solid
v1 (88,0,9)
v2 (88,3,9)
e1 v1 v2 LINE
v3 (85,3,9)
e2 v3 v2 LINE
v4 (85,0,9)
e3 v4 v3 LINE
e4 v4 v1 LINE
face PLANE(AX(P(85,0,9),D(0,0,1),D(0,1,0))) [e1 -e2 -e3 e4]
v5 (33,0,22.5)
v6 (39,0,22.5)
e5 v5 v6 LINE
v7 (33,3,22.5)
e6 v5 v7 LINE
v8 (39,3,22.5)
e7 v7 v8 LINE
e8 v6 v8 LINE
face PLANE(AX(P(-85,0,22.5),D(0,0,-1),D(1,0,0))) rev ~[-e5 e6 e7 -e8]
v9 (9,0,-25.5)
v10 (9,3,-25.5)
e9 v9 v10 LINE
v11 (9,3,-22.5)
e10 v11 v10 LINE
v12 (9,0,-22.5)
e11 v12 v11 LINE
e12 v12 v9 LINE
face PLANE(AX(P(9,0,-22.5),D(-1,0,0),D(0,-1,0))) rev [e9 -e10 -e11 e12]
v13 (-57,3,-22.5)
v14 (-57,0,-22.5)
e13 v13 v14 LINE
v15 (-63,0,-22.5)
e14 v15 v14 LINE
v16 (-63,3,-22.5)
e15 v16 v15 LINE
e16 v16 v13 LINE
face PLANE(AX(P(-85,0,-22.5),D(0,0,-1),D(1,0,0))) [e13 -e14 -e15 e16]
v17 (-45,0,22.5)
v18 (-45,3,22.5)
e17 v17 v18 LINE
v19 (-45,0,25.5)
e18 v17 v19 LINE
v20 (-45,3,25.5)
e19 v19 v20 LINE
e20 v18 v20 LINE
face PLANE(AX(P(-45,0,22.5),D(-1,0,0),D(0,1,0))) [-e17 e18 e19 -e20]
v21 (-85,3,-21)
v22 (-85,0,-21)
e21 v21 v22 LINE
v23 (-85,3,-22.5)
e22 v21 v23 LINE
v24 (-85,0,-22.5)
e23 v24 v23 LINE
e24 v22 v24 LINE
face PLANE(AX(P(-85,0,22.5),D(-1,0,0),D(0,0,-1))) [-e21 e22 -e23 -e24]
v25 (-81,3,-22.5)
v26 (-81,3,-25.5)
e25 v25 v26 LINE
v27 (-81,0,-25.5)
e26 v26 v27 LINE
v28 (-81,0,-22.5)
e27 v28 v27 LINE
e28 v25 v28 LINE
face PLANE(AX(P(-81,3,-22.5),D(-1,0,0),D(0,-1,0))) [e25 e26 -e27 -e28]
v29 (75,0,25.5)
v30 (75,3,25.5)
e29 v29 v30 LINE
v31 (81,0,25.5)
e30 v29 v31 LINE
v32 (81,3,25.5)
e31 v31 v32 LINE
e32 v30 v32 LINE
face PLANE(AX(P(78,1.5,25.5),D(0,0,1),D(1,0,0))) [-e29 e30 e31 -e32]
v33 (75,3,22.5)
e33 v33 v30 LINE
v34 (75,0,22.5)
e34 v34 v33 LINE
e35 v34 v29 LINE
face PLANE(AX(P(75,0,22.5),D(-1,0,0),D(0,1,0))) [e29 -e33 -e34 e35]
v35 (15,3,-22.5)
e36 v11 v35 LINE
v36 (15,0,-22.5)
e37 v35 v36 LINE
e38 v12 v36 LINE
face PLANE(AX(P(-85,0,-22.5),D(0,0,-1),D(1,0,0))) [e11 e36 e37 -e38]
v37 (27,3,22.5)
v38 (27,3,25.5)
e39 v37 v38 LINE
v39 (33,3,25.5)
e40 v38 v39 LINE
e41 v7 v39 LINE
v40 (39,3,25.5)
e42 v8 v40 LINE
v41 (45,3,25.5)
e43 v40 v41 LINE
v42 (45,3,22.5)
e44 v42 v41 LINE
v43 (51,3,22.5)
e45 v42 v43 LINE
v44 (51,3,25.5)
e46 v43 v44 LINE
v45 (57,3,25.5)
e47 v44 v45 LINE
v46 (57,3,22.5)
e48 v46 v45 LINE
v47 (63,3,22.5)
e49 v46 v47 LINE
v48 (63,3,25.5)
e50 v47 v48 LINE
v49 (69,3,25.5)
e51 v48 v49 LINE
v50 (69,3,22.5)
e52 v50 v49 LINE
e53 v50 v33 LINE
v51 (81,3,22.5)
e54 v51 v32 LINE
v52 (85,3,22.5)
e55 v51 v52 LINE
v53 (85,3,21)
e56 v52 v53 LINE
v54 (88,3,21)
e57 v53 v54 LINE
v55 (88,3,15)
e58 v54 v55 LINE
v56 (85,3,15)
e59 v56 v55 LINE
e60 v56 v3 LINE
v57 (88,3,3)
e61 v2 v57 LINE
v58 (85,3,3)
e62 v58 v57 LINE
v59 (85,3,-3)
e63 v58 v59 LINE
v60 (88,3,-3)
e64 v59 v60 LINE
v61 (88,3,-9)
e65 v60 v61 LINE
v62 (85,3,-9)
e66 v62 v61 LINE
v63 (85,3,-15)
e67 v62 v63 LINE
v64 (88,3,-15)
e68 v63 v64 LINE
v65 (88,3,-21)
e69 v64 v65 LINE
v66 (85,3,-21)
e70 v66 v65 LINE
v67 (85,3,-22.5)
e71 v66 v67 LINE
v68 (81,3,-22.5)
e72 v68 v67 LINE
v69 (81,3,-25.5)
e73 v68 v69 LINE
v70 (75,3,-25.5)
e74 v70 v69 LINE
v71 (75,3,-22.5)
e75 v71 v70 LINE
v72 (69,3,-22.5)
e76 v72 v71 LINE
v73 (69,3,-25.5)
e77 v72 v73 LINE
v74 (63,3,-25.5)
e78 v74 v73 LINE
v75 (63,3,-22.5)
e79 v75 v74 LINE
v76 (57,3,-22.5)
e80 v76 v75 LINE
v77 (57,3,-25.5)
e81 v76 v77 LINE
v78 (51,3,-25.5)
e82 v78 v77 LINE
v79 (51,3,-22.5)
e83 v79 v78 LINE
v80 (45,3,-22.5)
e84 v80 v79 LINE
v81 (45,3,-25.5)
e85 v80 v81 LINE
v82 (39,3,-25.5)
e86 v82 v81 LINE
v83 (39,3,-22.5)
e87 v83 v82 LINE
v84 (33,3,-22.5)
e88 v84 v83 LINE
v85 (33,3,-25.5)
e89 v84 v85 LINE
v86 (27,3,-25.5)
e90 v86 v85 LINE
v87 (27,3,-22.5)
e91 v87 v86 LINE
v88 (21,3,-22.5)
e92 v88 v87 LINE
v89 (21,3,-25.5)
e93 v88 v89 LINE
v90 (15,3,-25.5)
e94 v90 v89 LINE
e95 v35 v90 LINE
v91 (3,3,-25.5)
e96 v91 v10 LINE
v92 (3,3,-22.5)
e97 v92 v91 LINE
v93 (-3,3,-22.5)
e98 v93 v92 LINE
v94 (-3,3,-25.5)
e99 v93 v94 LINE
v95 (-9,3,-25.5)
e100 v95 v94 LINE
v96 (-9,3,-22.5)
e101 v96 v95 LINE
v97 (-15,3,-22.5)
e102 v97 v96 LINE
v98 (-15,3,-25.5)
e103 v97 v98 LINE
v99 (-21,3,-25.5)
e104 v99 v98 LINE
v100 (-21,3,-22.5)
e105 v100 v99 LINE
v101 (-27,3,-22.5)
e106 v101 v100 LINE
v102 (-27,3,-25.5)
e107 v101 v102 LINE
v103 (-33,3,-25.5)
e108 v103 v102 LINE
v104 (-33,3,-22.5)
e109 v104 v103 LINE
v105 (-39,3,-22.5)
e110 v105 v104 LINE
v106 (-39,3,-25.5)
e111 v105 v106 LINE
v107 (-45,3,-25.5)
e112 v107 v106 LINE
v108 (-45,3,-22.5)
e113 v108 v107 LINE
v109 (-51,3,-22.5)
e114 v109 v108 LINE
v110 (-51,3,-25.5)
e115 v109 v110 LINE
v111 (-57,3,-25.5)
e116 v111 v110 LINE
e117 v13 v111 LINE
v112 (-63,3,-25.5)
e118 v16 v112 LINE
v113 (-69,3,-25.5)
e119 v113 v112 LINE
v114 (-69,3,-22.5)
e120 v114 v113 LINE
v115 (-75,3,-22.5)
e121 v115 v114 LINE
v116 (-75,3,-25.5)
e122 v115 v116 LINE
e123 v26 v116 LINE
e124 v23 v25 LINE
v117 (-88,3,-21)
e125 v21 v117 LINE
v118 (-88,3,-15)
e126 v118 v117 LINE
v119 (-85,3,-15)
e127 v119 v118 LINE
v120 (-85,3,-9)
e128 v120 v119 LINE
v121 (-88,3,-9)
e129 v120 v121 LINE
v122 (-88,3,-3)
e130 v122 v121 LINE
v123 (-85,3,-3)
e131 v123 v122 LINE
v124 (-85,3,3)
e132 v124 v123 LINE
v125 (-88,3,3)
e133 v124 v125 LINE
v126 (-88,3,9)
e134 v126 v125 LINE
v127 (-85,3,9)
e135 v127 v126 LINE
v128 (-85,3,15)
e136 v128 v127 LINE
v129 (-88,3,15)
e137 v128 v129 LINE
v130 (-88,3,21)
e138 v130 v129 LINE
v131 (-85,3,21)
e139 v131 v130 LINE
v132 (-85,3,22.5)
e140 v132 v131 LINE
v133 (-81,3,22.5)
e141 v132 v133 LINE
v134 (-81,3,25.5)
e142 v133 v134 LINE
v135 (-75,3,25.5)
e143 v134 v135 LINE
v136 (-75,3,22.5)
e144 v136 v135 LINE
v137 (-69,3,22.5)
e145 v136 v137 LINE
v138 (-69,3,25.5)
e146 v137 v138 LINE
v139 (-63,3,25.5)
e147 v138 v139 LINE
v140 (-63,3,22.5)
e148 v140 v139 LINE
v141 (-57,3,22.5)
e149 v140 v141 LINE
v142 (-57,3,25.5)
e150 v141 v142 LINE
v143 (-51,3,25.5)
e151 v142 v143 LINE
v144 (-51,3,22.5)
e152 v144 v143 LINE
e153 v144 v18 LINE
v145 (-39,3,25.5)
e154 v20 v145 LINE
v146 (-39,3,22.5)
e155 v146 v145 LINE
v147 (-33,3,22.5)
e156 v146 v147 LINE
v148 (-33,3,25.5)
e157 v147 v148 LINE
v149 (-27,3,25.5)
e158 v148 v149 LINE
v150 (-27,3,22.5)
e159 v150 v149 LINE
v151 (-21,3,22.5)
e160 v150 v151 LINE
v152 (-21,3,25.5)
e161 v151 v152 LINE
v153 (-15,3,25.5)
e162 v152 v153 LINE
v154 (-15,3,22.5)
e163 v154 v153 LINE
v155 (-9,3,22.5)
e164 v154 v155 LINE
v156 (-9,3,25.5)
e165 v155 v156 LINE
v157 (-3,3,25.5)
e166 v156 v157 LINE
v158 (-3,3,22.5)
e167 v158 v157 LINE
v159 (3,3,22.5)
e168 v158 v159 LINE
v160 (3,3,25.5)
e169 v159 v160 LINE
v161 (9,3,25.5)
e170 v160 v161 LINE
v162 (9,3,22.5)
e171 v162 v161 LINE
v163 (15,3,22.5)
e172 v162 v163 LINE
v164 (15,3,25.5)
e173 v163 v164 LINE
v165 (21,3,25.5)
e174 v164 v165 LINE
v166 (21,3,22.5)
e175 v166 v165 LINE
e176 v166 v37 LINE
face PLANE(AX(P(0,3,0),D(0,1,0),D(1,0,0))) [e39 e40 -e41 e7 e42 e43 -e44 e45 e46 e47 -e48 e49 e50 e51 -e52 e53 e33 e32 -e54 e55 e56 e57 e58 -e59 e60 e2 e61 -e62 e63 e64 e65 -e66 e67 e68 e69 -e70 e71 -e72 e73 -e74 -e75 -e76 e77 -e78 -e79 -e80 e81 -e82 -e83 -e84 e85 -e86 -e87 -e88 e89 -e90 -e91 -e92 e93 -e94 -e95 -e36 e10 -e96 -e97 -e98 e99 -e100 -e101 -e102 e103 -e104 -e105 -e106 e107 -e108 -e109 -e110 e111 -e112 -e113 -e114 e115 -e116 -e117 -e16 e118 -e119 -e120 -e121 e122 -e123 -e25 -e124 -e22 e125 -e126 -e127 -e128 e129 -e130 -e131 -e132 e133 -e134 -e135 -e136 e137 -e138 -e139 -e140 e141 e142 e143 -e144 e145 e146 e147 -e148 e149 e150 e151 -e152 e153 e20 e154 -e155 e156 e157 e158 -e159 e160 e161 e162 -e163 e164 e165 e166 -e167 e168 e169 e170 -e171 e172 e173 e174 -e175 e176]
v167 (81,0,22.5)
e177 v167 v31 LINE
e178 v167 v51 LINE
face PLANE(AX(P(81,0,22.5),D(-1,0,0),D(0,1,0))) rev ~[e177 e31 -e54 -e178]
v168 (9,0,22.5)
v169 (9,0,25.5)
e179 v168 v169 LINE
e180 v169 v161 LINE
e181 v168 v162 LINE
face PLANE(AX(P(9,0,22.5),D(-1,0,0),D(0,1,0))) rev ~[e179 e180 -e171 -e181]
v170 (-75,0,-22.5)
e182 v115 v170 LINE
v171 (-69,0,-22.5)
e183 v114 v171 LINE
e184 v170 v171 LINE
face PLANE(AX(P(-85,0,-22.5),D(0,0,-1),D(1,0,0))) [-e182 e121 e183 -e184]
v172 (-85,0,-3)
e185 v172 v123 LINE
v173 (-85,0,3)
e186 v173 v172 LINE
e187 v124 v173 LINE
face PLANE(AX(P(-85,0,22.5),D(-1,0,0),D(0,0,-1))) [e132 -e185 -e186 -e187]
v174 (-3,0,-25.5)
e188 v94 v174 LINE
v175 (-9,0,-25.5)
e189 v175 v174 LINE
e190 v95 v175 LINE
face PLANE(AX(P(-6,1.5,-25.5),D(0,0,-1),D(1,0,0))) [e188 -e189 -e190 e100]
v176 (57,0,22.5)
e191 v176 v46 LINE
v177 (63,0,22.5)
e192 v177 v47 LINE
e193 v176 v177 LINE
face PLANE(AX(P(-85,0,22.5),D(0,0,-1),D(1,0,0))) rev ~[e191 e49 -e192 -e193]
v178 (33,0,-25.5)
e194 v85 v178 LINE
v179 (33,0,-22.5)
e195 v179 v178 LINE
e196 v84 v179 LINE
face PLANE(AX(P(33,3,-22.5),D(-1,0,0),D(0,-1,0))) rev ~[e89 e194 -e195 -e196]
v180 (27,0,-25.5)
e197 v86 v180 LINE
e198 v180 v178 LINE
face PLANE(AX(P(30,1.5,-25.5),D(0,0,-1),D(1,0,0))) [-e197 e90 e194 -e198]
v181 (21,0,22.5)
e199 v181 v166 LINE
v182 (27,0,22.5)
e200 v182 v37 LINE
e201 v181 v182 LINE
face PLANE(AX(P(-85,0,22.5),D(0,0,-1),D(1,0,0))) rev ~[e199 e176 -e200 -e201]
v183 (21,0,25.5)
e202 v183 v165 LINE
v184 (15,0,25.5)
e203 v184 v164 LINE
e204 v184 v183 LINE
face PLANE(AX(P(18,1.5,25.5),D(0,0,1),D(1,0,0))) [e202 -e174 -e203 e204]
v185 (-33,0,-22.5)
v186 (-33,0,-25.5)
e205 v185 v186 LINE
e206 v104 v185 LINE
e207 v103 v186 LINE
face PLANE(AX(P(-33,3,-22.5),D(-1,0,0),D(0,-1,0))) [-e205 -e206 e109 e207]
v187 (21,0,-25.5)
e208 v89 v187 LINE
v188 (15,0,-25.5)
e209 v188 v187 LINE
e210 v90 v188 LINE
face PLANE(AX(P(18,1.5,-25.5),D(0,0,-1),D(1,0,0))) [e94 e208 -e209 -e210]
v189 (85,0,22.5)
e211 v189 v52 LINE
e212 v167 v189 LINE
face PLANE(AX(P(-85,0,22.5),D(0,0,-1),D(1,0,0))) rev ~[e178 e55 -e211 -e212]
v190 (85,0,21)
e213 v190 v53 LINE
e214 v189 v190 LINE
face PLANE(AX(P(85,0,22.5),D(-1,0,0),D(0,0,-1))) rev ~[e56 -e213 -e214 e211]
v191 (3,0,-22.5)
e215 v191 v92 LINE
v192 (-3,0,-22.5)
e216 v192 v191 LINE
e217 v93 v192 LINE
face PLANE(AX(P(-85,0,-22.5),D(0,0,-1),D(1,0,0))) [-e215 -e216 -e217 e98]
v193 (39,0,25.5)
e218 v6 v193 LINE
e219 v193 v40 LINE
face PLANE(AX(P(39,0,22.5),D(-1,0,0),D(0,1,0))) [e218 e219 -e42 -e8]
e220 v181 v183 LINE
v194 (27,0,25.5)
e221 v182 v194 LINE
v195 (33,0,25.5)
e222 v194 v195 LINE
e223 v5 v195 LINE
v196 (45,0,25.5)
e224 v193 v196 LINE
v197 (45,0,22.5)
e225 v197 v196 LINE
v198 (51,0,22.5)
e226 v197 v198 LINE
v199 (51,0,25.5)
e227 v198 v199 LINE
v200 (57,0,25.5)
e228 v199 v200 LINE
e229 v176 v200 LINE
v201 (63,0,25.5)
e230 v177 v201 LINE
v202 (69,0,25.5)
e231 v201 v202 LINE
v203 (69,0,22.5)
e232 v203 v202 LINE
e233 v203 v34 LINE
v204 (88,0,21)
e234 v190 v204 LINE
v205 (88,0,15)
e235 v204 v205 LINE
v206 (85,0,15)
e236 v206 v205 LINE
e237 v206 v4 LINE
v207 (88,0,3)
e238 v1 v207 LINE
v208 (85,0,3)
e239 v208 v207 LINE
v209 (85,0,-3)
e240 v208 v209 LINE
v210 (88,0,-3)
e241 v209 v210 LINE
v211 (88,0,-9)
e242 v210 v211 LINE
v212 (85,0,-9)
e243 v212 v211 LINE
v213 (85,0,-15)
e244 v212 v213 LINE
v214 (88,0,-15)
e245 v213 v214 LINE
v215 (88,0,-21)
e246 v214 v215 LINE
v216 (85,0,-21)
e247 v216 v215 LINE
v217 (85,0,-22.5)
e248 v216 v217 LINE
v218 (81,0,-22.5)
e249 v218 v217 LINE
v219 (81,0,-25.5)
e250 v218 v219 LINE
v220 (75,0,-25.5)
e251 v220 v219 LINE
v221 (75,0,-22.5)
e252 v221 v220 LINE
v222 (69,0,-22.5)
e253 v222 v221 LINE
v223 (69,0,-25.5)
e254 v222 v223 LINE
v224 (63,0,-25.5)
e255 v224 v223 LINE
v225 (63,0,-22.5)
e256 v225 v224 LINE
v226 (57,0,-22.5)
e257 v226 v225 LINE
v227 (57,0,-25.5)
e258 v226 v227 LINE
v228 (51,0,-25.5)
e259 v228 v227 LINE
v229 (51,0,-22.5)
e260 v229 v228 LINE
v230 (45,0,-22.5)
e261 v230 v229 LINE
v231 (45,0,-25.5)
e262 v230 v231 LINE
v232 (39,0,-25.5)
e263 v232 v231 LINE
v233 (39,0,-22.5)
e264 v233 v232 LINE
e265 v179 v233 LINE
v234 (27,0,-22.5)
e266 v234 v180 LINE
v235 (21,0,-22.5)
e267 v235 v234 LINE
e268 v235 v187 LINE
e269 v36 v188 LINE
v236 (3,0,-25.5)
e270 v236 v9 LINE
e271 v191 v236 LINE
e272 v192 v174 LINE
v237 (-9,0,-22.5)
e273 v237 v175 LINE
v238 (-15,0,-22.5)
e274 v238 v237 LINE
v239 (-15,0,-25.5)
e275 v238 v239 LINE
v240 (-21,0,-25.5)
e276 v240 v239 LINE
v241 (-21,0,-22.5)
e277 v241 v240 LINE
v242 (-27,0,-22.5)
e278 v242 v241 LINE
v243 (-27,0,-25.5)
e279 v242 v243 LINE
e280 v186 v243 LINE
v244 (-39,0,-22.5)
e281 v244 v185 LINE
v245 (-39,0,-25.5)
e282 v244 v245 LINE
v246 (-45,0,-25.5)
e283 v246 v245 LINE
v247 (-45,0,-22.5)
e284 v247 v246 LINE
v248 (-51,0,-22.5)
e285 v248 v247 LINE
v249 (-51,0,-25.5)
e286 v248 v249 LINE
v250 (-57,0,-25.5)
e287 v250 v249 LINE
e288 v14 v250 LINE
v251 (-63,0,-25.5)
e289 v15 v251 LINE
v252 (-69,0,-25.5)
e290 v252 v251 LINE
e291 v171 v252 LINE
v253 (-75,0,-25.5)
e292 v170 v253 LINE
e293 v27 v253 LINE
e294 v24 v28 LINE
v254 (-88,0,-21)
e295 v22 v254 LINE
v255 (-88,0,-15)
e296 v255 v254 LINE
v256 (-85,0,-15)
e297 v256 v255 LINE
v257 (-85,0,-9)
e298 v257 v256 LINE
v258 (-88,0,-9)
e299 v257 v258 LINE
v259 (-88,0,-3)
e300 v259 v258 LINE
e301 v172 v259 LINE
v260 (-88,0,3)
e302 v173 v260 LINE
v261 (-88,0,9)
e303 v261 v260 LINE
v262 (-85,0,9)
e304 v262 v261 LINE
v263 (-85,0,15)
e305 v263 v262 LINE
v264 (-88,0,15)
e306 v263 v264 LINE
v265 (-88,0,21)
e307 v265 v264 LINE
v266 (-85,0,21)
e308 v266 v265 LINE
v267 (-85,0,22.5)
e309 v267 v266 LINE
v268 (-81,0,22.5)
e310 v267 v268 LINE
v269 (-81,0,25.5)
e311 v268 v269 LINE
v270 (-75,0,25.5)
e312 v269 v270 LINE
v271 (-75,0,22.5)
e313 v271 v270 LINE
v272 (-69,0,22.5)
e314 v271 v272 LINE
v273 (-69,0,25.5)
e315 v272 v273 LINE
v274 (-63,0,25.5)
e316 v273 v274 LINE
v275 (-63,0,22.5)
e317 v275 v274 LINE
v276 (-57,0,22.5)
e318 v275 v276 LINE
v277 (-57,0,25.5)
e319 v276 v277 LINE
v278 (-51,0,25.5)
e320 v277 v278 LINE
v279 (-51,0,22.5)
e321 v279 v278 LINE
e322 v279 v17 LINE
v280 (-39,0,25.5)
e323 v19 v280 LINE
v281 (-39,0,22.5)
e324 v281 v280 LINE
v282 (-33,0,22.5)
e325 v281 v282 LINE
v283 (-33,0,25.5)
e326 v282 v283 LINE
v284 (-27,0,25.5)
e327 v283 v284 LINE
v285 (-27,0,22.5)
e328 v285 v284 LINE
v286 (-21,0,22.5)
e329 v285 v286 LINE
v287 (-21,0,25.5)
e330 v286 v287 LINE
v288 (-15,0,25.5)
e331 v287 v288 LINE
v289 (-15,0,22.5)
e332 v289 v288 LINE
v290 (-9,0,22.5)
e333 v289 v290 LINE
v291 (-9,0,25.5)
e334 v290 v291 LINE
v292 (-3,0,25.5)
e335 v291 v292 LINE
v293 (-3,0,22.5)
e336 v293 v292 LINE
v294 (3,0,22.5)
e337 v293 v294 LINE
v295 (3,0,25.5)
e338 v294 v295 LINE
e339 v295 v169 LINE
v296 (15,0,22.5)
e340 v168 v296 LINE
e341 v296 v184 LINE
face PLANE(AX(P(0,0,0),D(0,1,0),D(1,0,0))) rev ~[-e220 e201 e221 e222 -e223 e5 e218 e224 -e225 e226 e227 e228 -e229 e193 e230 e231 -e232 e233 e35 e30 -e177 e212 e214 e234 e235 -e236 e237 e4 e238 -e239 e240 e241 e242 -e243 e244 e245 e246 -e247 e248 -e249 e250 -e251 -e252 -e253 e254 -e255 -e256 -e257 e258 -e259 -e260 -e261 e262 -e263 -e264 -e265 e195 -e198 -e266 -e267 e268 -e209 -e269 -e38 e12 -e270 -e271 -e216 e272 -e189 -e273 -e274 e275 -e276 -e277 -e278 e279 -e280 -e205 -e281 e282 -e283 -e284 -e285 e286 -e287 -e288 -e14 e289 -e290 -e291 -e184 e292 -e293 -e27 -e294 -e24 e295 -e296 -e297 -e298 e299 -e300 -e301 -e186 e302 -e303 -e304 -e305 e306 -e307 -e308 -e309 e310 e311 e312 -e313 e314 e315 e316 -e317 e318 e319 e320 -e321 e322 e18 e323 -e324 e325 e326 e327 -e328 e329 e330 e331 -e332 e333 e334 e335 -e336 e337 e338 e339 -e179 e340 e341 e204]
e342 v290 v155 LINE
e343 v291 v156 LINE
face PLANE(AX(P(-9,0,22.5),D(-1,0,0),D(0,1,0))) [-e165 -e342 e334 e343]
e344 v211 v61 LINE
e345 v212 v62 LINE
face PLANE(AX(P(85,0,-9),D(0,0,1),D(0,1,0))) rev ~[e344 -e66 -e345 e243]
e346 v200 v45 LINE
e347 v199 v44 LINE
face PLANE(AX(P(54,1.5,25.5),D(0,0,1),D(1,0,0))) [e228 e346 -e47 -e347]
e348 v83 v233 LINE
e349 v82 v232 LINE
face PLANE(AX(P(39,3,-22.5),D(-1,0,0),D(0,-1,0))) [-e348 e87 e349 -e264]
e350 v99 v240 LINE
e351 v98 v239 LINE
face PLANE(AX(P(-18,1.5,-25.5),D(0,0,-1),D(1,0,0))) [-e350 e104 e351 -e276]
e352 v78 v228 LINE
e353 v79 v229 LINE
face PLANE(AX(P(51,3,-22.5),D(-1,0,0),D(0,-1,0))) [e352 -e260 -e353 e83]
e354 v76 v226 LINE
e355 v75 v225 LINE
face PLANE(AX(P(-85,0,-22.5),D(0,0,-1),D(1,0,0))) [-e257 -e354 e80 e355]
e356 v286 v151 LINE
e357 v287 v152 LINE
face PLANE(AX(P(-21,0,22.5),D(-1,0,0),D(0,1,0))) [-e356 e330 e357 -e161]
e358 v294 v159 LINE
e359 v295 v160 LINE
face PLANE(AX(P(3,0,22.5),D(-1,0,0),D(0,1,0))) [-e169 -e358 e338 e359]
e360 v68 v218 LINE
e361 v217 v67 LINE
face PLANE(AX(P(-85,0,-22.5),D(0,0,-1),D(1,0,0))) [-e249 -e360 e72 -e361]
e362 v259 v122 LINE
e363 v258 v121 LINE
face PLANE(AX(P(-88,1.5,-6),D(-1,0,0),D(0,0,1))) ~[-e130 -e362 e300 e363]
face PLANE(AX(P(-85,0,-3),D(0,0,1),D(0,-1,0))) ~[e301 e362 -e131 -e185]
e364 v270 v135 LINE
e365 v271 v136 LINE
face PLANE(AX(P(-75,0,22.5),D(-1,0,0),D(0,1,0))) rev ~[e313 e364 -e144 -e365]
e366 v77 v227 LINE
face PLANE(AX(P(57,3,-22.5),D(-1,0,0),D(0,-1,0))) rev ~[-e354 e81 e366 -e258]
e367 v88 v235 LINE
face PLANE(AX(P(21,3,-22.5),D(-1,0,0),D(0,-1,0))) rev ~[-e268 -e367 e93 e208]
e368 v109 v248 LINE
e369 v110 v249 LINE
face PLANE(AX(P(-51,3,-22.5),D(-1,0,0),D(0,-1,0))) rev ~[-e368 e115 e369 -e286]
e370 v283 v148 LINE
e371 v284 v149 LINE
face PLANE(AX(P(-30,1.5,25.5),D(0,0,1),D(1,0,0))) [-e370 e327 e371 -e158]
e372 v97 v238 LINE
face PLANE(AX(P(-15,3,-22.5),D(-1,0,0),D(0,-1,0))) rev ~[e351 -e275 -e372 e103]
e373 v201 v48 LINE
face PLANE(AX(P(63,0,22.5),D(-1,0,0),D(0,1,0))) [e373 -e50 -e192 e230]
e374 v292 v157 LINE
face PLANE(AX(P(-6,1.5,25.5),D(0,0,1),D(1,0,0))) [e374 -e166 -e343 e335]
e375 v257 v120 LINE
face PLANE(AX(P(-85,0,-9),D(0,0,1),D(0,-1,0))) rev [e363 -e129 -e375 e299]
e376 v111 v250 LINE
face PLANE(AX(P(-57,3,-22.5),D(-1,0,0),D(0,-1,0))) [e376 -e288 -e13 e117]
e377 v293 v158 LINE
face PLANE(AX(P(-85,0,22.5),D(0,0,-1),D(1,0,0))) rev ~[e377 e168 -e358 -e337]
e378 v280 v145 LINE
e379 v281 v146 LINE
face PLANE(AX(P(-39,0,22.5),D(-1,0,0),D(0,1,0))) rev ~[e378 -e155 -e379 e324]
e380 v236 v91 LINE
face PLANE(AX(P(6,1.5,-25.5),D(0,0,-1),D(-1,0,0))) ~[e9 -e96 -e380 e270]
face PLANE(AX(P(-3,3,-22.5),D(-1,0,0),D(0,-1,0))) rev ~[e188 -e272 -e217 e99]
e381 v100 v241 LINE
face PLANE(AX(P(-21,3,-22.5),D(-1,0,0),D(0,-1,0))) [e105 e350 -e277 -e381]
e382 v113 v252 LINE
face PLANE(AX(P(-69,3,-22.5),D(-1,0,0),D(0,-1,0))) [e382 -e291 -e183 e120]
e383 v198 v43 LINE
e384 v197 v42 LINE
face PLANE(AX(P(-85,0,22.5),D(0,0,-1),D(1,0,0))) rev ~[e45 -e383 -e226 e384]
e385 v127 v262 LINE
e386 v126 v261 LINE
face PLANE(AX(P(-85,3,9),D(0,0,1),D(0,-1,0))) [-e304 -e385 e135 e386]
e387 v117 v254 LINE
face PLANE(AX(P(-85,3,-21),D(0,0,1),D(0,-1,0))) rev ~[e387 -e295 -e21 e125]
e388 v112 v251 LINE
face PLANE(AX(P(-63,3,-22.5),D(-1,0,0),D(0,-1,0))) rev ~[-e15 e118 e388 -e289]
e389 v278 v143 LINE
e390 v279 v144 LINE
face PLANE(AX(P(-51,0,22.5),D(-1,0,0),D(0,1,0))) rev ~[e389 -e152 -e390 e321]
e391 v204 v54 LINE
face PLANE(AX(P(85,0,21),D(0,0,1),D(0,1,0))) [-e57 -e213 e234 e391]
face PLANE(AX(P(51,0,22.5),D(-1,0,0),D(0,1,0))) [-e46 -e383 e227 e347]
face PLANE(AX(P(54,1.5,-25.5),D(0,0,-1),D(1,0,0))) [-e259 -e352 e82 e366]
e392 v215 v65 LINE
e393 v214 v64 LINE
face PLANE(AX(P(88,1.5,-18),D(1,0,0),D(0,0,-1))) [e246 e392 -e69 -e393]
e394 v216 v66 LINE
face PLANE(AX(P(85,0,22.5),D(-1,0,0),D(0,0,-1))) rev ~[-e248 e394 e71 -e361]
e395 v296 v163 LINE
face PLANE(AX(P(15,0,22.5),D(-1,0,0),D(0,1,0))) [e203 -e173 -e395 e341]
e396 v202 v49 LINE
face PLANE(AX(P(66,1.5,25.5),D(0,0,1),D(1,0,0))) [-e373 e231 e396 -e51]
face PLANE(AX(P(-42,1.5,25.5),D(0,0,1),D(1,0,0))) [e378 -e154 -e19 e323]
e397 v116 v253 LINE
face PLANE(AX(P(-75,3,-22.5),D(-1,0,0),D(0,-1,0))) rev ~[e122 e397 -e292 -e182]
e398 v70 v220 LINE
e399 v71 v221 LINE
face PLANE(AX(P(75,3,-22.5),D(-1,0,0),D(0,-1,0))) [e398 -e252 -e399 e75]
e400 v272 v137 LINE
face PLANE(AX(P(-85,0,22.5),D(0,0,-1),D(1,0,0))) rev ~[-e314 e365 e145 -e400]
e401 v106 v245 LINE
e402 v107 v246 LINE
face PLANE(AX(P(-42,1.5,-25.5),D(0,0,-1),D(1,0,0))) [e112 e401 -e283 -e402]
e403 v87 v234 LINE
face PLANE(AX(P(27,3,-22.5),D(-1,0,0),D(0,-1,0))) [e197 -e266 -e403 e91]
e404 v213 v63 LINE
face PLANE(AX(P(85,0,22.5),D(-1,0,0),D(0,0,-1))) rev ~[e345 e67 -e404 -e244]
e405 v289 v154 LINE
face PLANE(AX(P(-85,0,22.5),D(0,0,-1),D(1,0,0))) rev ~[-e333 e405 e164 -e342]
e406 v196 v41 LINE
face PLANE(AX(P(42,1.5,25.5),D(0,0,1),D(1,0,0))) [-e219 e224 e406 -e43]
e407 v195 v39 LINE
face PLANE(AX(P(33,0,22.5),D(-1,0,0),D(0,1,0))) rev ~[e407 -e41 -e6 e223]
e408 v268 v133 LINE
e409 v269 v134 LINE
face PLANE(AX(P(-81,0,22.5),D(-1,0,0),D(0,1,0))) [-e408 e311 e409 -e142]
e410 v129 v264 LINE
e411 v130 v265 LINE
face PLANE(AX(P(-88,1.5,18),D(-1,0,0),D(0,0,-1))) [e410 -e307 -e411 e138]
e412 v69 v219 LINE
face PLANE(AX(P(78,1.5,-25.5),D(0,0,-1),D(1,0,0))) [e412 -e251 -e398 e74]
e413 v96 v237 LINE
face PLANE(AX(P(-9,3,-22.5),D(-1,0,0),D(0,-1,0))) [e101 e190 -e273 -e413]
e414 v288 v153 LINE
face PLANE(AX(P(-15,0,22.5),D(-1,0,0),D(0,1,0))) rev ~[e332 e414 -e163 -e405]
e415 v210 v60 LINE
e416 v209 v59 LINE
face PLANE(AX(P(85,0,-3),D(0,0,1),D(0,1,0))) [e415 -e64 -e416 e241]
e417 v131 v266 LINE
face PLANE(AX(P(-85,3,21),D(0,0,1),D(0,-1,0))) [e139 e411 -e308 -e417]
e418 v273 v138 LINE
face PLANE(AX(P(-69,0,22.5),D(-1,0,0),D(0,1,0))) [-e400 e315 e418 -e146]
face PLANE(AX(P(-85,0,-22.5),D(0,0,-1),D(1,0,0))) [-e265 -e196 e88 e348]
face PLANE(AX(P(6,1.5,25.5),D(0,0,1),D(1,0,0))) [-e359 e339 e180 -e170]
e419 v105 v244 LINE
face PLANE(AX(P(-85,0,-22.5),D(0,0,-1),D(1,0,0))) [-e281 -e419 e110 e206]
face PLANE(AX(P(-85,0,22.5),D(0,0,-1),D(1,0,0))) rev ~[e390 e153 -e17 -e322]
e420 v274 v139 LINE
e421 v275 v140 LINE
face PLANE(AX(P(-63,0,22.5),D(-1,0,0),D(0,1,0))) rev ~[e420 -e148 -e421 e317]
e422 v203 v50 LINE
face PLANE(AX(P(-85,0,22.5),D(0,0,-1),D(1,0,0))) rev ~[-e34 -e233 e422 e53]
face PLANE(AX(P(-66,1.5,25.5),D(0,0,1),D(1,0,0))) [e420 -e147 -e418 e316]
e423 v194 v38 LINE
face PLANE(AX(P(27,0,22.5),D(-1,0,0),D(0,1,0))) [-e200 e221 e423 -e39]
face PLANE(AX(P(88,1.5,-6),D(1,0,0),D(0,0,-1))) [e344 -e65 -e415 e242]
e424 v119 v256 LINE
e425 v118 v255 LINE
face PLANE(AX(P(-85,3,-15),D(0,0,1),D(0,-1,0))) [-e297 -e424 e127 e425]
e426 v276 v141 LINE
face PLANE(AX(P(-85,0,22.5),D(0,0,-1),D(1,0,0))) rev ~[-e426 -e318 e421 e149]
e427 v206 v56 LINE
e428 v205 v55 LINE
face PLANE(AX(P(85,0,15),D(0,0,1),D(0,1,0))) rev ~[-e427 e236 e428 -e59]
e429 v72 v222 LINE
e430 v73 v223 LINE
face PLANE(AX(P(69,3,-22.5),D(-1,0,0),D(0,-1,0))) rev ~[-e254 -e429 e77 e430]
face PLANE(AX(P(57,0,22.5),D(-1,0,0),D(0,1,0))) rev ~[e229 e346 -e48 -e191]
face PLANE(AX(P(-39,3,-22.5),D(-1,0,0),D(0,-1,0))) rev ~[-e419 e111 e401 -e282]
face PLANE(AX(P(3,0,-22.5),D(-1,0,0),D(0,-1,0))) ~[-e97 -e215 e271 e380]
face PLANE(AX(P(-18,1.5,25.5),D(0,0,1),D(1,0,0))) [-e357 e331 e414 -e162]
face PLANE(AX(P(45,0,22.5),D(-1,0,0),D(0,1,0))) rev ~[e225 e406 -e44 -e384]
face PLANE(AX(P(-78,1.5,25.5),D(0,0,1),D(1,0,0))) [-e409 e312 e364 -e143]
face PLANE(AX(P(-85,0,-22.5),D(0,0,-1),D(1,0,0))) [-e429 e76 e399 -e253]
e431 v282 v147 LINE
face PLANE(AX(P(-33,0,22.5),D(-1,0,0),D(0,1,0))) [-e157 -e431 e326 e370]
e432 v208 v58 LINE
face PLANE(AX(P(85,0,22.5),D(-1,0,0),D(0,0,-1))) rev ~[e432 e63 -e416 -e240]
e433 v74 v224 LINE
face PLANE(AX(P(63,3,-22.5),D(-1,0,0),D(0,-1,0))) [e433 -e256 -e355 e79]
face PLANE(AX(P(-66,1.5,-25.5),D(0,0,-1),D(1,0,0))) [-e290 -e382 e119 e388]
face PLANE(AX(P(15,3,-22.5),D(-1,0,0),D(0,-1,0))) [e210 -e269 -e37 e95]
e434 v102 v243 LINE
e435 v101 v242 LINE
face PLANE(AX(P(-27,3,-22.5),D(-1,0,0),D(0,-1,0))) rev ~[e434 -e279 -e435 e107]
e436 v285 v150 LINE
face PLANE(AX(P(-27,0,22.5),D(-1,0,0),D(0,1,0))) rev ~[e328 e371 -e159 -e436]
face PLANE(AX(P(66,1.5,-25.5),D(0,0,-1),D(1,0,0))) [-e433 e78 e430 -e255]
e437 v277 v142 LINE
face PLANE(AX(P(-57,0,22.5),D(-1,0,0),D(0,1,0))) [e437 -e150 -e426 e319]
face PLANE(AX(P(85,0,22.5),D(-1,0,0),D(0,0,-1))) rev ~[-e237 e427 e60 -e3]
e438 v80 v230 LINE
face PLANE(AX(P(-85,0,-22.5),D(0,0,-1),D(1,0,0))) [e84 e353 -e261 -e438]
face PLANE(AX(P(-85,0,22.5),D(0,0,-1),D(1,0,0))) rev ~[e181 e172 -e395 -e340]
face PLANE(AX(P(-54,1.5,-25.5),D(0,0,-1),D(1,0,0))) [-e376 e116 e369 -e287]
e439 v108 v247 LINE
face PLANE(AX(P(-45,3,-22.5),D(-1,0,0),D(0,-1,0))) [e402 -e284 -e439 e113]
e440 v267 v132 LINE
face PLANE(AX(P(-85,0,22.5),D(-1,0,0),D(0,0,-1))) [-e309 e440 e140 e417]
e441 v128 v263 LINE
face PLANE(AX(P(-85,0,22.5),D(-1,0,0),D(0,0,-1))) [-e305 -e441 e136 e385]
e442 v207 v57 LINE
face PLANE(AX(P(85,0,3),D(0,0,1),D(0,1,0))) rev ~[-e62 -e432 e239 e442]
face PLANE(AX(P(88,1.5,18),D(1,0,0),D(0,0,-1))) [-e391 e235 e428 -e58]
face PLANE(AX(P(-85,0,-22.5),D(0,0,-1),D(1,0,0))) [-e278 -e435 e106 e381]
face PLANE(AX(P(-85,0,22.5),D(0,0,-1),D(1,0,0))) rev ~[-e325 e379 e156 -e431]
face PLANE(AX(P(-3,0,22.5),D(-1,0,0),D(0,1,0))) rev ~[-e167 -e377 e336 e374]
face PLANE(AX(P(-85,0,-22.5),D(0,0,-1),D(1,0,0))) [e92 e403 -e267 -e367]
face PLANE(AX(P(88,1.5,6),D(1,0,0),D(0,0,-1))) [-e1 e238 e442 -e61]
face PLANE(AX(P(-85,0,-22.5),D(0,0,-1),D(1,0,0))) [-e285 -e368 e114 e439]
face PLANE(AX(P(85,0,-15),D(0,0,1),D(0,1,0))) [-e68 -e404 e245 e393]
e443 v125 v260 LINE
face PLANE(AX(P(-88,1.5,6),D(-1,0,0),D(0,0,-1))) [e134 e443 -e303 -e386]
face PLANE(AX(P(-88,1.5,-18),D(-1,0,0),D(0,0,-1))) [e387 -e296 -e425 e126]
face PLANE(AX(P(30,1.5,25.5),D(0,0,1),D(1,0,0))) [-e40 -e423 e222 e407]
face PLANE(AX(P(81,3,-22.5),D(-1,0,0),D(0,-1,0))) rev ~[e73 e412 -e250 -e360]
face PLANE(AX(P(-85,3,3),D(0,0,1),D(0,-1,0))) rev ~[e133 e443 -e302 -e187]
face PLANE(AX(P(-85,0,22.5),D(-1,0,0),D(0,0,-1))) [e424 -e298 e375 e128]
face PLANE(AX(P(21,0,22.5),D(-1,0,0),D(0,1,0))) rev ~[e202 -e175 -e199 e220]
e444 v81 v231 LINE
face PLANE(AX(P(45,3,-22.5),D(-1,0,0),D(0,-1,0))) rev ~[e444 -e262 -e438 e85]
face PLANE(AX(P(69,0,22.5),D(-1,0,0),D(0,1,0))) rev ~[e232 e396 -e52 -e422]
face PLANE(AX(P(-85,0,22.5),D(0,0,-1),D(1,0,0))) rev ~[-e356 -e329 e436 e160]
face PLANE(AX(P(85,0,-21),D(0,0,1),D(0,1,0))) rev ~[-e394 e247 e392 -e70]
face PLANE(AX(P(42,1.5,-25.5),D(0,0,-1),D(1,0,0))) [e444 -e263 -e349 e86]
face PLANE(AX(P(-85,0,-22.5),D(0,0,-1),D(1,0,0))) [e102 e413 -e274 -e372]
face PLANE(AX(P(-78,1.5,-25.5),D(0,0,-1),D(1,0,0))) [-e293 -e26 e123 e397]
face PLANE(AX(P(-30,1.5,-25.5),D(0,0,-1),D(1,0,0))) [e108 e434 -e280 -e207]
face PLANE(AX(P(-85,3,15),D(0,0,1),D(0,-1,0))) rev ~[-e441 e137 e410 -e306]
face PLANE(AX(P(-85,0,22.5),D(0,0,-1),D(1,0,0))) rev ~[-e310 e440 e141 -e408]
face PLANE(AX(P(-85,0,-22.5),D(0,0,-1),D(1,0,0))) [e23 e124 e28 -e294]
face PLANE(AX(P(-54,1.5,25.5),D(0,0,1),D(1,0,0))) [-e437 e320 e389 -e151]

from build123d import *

# Parameters (mm, degrees)
SKETCH1_W                = 170
SKETCH1_H                = 45
BOSS_EXTRUDE1_DEPTH      = 3
SKETCH2_W                = 6
SKETCH2_H                = 3
BOSS_EXTRUDE2_DEPTH      = 3
LPATTERN1_COUNT          = 7
LPATTERN1_PITCH          = 12
LPATTERN1_COL_COUNT      = 8
LPATTERN1_COL_PITCH      = 12
SKETCH3_W                = 6
SKETCH3_H                = 3
BOSS_EXTRUDE3_DEPTH      = 3
LPATTERN2_COUNT          = 2
LPATTERN2_PITCH          = 12
LPATTERN2_COL_COUNT      = 3
LPATTERN2_COL_PITCH      = 12
MIRROR1_COPY_1_SKETCH_W  = 6
MIRROR1_COPY_1_SKETCH_H  = 3
MIRROR1_COPY_1_DEPTH     = 3
MIRROR1_COPY_2_SKETCH_W  = 6
MIRROR1_COPY_2_SKETCH_H  = 3
MIRROR1_COPY_2_DEPTH     = 3
MIRROR1_COPY_3_SKETCH_W  = 6
MIRROR1_COPY_3_SKETCH_H  = 3
MIRROR1_COPY_3_DEPTH     = 3
MIRROR1_COPY_4_SKETCH_W  = 6
MIRROR1_COPY_4_SKETCH_H  = 3
MIRROR1_COPY_4_DEPTH     = 3
MIRROR1_COPY_5_SKETCH_W  = 6
MIRROR1_COPY_5_SKETCH_H  = 3
MIRROR1_COPY_5_DEPTH     = 3
MIRROR1_COPY_6_SKETCH_W  = 6
MIRROR1_COPY_6_SKETCH_H  = 3
MIRROR1_COPY_6_DEPTH     = 3
MIRROR1_COPY_7_SKETCH_W  = 6
MIRROR1_COPY_7_SKETCH_H  = 3
MIRROR1_COPY_7_DEPTH     = 3
MIRROR1_COPY_8_SKETCH_W  = 6
MIRROR1_COPY_8_SKETCH_H  = 3
MIRROR1_COPY_8_DEPTH     = 3
MIRROR1_COPY_9_SKETCH_W  = 6
MIRROR1_COPY_9_SKETCH_H  = 3
MIRROR1_COPY_9_DEPTH     = 3
MIRROR1_COPY_10_SKETCH_W = 6
MIRROR1_COPY_10_SKETCH_H = 3
MIRROR1_COPY_10_DEPTH    = 3
MIRROR1_COPY_11_SKETCH_W = 6
MIRROR1_COPY_11_SKETCH_H = 3
MIRROR1_COPY_11_DEPTH    = 3
MIRROR1_COPY_12_SKETCH_W = 6
MIRROR1_COPY_12_SKETCH_H = 3
MIRROR1_COPY_12_DEPTH    = 3
MIRROR1_COPY_13_SKETCH_W = 6
MIRROR1_COPY_13_SKETCH_H = 3
MIRROR1_COPY_13_DEPTH    = 3
MIRROR2_COPY_1_SKETCH_W  = 6
MIRROR2_COPY_1_SKETCH_H  = 3
MIRROR2_COPY_1_DEPTH     = 3
MIRROR2_COPY_2_SKETCH_W  = 6
MIRROR2_COPY_2_SKETCH_H  = 3
MIRROR2_COPY_2_DEPTH     = 3
MIRROR2_COPY_3_SKETCH_W  = 6
MIRROR2_COPY_3_SKETCH_H  = 3
MIRROR2_COPY_3_DEPTH     = 3


with BuildPart() as part:
    # Sketch1 → Boss-Extrude1 (new body)
    with BuildSketch(Plane(origin=(0, 0, 0), x_dir=(1, 0, 0), z_dir=(0, 1, 0))):
        Rectangle(SKETCH1_W, SKETCH1_H)
    extrude(amount=BOSS_EXTRUDE1_DEPTH)

    # Sketch2 → Boss-Extrude2 (add)
    with BuildSketch(Plane.XY.offset(22.5)):
        with Locations((6, 1.5)):
            Rectangle(SKETCH2_W, SKETCH2_H)
    boss_extrude2 = extrude(amount=BOSS_EXTRUDE2_DEPTH)

    # LPattern1: Boss-Extrude2 ×7
    with Locations(*[(i * LPATTERN1_PITCH, 0, 0) for i in range(1, LPATTERN1_COUNT)]):
        add(boss_extrude2)

    # LPattern1 col: Boss-Extrude2 ×8
    with Locations(*[(-i * LPATTERN1_COL_PITCH, 0, 0) for i in range(1, LPATTERN1_COL_COUNT)]):
        add(boss_extrude2)

    # Sketch3 → Boss-Extrude3 (add)
    with BuildSketch(Plane(origin=(85, 0, 0), x_dir=(0, 0, -1), z_dir=(1, 0, 0))):
        with Locations((6, 1.5)):
            Rectangle(SKETCH3_W, SKETCH3_H)
    boss_extrude3 = extrude(amount=BOSS_EXTRUDE3_DEPTH)

    # LPattern2: Boss-Extrude3 ×2
    with Locations(*[(0, 0, -i * LPATTERN2_PITCH) for i in range(1, LPATTERN2_COUNT)]):
        add(boss_extrude3)

    # LPattern2 col: Boss-Extrude3 ×3
    with Locations(*[(0, 0, i * LPATTERN2_COL_PITCH) for i in range(1, LPATTERN2_COL_COUNT)]):
        add(boss_extrude3)

    # Mirror1: Boss-Extrude2 across plane
    add(boss_extrude2.mirror(Plane(origin=(0, 0, 0), x_dir=(1, 0, 0), z_dir=(0, 0, -1))))

    # Mirror1 copy 1 sketch → Mirror1 copy 1 (add)
    with BuildSketch(Plane(origin=(12, 0, -22.5), x_dir=(1, 0, 0), z_dir=(0, 0, -1))):
        with Locations((6, -1.5)):
            Rectangle(MIRROR1_COPY_1_SKETCH_W, MIRROR1_COPY_1_SKETCH_H)
    extrude(amount=MIRROR1_COPY_1_DEPTH)

    # Mirror1 copy 2 sketch → Mirror1 copy 2 (add)
    with BuildSketch(Plane(origin=(24, 0, -22.5), x_dir=(1, 0, 0), z_dir=(0, 0, -1))):
        with Locations((6, -1.5)):
            Rectangle(MIRROR1_COPY_2_SKETCH_W, MIRROR1_COPY_2_SKETCH_H)
    extrude(amount=MIRROR1_COPY_2_DEPTH)

    # Mirror1 copy 3 sketch → Mirror1 copy 3 (add)
    with BuildSketch(Plane(origin=(36, 0, -22.5), x_dir=(1, 0, 0), z_dir=(0, 0, -1))):
        with Locations((6, -1.5)):
            Rectangle(MIRROR1_COPY_3_SKETCH_W, MIRROR1_COPY_3_SKETCH_H)
    extrude(amount=MIRROR1_COPY_3_DEPTH)

    # Mirror1 copy 4 sketch → Mirror1 copy 4 (add)
    with BuildSketch(Plane(origin=(48, 0, -22.5), x_dir=(1, 0, 0), z_dir=(0, 0, -1))):
        with Locations((6, -1.5)):
            Rectangle(MIRROR1_COPY_4_SKETCH_W, MIRROR1_COPY_4_SKETCH_H)
    extrude(amount=MIRROR1_COPY_4_DEPTH)

    # Mirror1 copy 5 sketch → Mirror1 copy 5 (add)
    with BuildSketch(Plane(origin=(60, 0, -22.5), x_dir=(1, 0, 0), z_dir=(0, 0, -1))):
        with Locations((6, -1.5)):
            Rectangle(MIRROR1_COPY_5_SKETCH_W, MIRROR1_COPY_5_SKETCH_H)
    extrude(amount=MIRROR1_COPY_5_DEPTH)

    # Mirror1 copy 6 sketch → Mirror1 copy 6 (add)
    with BuildSketch(Plane(origin=(72, 0, -22.5), x_dir=(1, 0, 0), z_dir=(0, 0, -1))):
        with Locations((6, -1.5)):
            Rectangle(MIRROR1_COPY_6_SKETCH_W, MIRROR1_COPY_6_SKETCH_H)
    extrude(amount=MIRROR1_COPY_6_DEPTH)

    # Mirror1 copy 7 sketch → Mirror1 copy 7 (add)
    with BuildSketch(Plane(origin=(-12, 0, -22.5), x_dir=(1, 0, 0), z_dir=(0, 0, -1))):
        with Locations((6, -1.5)):
            Rectangle(MIRROR1_COPY_7_SKETCH_W, MIRROR1_COPY_7_SKETCH_H)
    extrude(amount=MIRROR1_COPY_7_DEPTH)

    # Mirror1 copy 8 sketch → Mirror1 copy 8 (add)
    with BuildSketch(Plane(origin=(-24, 0, -22.5), x_dir=(1, 0, 0), z_dir=(0, 0, -1))):
        with Locations((6, -1.5)):
            Rectangle(MIRROR1_COPY_8_SKETCH_W, MIRROR1_COPY_8_SKETCH_H)
    extrude(amount=MIRROR1_COPY_8_DEPTH)

    # Mirror1 copy 9 sketch → Mirror1 copy 9 (add)
    with BuildSketch(Plane(origin=(-36, 0, -22.5), x_dir=(1, 0, 0), z_dir=(0, 0, -1))):
        with Locations((6, -1.5)):
            Rectangle(MIRROR1_COPY_9_SKETCH_W, MIRROR1_COPY_9_SKETCH_H)
    extrude(amount=MIRROR1_COPY_9_DEPTH)

    # Mirror1 copy 10 sketch → Mirror1 copy 10 (add)
    with BuildSketch(Plane(origin=(-48, 0, -22.5), x_dir=(1, 0, 0), z_dir=(0, 0, -1))):
        with Locations((6, -1.5)):
            Rectangle(MIRROR1_COPY_10_SKETCH_W, MIRROR1_COPY_10_SKETCH_H)
    extrude(amount=MIRROR1_COPY_10_DEPTH)

    # Mirror1 copy 11 sketch → Mirror1 copy 11 (add)
    with BuildSketch(Plane(origin=(-60, 0, -22.5), x_dir=(1, 0, 0), z_dir=(0, 0, -1))):
        with Locations((6, -1.5)):
            Rectangle(MIRROR1_COPY_11_SKETCH_W, MIRROR1_COPY_11_SKETCH_H)
    extrude(amount=MIRROR1_COPY_11_DEPTH)

    # Mirror1 copy 12 sketch → Mirror1 copy 12 (add)
    with BuildSketch(Plane(origin=(-72, 0, -22.5), x_dir=(1, 0, 0), z_dir=(0, 0, -1))):
        with Locations((6, -1.5)):
            Rectangle(MIRROR1_COPY_12_SKETCH_W, MIRROR1_COPY_12_SKETCH_H)
    extrude(amount=MIRROR1_COPY_12_DEPTH)

    # Mirror1 copy 13 sketch → Mirror1 copy 13 (add)
    with BuildSketch(Plane(origin=(-84, 0, -22.5), x_dir=(1, 0, 0), z_dir=(0, 0, -1))):
        with Locations((6, -1.5)):
            Rectangle(MIRROR1_COPY_13_SKETCH_W, MIRROR1_COPY_13_SKETCH_H)
    extrude(amount=MIRROR1_COPY_13_DEPTH)

    # Mirror2: Boss-Extrude3 across plane
    add(boss_extrude3.mirror(Plane.ZY))

    # Mirror2 copy 1 sketch → Mirror2 copy 1 (add)
    with BuildSketch(Plane(origin=(-85, 0, -12), x_dir=(0, 0, -1), z_dir=(-1, 0, 0))):
        with Locations((6, -1.5)):
            Rectangle(MIRROR2_COPY_1_SKETCH_W, MIRROR2_COPY_1_SKETCH_H)
    extrude(amount=MIRROR2_COPY_1_DEPTH)

    # Mirror2 copy 2 sketch → Mirror2 copy 2 (add)
    with BuildSketch(Plane(origin=(-85, 0, 12), x_dir=(0, 0, -1), z_dir=(-1, 0, 0))):
        with Locations((6, -1.5)):
            Rectangle(MIRROR2_COPY_2_SKETCH_W, MIRROR2_COPY_2_SKETCH_H)
    extrude(amount=MIRROR2_COPY_2_DEPTH)

    # Mirror2 copy 3 sketch → Mirror2 copy 3 (add)
    with BuildSketch(Plane(origin=(-85, 0, 24), x_dir=(0, 0, -1), z_dir=(-1, 0, 0))):
        with Locations((6, -1.5)):
            Rectangle(MIRROR2_COPY_3_SKETCH_W, MIRROR2_COPY_3_SKETCH_H)
    extrude(amount=MIRROR2_COPY_3_DEPTH)


solid = part.part
